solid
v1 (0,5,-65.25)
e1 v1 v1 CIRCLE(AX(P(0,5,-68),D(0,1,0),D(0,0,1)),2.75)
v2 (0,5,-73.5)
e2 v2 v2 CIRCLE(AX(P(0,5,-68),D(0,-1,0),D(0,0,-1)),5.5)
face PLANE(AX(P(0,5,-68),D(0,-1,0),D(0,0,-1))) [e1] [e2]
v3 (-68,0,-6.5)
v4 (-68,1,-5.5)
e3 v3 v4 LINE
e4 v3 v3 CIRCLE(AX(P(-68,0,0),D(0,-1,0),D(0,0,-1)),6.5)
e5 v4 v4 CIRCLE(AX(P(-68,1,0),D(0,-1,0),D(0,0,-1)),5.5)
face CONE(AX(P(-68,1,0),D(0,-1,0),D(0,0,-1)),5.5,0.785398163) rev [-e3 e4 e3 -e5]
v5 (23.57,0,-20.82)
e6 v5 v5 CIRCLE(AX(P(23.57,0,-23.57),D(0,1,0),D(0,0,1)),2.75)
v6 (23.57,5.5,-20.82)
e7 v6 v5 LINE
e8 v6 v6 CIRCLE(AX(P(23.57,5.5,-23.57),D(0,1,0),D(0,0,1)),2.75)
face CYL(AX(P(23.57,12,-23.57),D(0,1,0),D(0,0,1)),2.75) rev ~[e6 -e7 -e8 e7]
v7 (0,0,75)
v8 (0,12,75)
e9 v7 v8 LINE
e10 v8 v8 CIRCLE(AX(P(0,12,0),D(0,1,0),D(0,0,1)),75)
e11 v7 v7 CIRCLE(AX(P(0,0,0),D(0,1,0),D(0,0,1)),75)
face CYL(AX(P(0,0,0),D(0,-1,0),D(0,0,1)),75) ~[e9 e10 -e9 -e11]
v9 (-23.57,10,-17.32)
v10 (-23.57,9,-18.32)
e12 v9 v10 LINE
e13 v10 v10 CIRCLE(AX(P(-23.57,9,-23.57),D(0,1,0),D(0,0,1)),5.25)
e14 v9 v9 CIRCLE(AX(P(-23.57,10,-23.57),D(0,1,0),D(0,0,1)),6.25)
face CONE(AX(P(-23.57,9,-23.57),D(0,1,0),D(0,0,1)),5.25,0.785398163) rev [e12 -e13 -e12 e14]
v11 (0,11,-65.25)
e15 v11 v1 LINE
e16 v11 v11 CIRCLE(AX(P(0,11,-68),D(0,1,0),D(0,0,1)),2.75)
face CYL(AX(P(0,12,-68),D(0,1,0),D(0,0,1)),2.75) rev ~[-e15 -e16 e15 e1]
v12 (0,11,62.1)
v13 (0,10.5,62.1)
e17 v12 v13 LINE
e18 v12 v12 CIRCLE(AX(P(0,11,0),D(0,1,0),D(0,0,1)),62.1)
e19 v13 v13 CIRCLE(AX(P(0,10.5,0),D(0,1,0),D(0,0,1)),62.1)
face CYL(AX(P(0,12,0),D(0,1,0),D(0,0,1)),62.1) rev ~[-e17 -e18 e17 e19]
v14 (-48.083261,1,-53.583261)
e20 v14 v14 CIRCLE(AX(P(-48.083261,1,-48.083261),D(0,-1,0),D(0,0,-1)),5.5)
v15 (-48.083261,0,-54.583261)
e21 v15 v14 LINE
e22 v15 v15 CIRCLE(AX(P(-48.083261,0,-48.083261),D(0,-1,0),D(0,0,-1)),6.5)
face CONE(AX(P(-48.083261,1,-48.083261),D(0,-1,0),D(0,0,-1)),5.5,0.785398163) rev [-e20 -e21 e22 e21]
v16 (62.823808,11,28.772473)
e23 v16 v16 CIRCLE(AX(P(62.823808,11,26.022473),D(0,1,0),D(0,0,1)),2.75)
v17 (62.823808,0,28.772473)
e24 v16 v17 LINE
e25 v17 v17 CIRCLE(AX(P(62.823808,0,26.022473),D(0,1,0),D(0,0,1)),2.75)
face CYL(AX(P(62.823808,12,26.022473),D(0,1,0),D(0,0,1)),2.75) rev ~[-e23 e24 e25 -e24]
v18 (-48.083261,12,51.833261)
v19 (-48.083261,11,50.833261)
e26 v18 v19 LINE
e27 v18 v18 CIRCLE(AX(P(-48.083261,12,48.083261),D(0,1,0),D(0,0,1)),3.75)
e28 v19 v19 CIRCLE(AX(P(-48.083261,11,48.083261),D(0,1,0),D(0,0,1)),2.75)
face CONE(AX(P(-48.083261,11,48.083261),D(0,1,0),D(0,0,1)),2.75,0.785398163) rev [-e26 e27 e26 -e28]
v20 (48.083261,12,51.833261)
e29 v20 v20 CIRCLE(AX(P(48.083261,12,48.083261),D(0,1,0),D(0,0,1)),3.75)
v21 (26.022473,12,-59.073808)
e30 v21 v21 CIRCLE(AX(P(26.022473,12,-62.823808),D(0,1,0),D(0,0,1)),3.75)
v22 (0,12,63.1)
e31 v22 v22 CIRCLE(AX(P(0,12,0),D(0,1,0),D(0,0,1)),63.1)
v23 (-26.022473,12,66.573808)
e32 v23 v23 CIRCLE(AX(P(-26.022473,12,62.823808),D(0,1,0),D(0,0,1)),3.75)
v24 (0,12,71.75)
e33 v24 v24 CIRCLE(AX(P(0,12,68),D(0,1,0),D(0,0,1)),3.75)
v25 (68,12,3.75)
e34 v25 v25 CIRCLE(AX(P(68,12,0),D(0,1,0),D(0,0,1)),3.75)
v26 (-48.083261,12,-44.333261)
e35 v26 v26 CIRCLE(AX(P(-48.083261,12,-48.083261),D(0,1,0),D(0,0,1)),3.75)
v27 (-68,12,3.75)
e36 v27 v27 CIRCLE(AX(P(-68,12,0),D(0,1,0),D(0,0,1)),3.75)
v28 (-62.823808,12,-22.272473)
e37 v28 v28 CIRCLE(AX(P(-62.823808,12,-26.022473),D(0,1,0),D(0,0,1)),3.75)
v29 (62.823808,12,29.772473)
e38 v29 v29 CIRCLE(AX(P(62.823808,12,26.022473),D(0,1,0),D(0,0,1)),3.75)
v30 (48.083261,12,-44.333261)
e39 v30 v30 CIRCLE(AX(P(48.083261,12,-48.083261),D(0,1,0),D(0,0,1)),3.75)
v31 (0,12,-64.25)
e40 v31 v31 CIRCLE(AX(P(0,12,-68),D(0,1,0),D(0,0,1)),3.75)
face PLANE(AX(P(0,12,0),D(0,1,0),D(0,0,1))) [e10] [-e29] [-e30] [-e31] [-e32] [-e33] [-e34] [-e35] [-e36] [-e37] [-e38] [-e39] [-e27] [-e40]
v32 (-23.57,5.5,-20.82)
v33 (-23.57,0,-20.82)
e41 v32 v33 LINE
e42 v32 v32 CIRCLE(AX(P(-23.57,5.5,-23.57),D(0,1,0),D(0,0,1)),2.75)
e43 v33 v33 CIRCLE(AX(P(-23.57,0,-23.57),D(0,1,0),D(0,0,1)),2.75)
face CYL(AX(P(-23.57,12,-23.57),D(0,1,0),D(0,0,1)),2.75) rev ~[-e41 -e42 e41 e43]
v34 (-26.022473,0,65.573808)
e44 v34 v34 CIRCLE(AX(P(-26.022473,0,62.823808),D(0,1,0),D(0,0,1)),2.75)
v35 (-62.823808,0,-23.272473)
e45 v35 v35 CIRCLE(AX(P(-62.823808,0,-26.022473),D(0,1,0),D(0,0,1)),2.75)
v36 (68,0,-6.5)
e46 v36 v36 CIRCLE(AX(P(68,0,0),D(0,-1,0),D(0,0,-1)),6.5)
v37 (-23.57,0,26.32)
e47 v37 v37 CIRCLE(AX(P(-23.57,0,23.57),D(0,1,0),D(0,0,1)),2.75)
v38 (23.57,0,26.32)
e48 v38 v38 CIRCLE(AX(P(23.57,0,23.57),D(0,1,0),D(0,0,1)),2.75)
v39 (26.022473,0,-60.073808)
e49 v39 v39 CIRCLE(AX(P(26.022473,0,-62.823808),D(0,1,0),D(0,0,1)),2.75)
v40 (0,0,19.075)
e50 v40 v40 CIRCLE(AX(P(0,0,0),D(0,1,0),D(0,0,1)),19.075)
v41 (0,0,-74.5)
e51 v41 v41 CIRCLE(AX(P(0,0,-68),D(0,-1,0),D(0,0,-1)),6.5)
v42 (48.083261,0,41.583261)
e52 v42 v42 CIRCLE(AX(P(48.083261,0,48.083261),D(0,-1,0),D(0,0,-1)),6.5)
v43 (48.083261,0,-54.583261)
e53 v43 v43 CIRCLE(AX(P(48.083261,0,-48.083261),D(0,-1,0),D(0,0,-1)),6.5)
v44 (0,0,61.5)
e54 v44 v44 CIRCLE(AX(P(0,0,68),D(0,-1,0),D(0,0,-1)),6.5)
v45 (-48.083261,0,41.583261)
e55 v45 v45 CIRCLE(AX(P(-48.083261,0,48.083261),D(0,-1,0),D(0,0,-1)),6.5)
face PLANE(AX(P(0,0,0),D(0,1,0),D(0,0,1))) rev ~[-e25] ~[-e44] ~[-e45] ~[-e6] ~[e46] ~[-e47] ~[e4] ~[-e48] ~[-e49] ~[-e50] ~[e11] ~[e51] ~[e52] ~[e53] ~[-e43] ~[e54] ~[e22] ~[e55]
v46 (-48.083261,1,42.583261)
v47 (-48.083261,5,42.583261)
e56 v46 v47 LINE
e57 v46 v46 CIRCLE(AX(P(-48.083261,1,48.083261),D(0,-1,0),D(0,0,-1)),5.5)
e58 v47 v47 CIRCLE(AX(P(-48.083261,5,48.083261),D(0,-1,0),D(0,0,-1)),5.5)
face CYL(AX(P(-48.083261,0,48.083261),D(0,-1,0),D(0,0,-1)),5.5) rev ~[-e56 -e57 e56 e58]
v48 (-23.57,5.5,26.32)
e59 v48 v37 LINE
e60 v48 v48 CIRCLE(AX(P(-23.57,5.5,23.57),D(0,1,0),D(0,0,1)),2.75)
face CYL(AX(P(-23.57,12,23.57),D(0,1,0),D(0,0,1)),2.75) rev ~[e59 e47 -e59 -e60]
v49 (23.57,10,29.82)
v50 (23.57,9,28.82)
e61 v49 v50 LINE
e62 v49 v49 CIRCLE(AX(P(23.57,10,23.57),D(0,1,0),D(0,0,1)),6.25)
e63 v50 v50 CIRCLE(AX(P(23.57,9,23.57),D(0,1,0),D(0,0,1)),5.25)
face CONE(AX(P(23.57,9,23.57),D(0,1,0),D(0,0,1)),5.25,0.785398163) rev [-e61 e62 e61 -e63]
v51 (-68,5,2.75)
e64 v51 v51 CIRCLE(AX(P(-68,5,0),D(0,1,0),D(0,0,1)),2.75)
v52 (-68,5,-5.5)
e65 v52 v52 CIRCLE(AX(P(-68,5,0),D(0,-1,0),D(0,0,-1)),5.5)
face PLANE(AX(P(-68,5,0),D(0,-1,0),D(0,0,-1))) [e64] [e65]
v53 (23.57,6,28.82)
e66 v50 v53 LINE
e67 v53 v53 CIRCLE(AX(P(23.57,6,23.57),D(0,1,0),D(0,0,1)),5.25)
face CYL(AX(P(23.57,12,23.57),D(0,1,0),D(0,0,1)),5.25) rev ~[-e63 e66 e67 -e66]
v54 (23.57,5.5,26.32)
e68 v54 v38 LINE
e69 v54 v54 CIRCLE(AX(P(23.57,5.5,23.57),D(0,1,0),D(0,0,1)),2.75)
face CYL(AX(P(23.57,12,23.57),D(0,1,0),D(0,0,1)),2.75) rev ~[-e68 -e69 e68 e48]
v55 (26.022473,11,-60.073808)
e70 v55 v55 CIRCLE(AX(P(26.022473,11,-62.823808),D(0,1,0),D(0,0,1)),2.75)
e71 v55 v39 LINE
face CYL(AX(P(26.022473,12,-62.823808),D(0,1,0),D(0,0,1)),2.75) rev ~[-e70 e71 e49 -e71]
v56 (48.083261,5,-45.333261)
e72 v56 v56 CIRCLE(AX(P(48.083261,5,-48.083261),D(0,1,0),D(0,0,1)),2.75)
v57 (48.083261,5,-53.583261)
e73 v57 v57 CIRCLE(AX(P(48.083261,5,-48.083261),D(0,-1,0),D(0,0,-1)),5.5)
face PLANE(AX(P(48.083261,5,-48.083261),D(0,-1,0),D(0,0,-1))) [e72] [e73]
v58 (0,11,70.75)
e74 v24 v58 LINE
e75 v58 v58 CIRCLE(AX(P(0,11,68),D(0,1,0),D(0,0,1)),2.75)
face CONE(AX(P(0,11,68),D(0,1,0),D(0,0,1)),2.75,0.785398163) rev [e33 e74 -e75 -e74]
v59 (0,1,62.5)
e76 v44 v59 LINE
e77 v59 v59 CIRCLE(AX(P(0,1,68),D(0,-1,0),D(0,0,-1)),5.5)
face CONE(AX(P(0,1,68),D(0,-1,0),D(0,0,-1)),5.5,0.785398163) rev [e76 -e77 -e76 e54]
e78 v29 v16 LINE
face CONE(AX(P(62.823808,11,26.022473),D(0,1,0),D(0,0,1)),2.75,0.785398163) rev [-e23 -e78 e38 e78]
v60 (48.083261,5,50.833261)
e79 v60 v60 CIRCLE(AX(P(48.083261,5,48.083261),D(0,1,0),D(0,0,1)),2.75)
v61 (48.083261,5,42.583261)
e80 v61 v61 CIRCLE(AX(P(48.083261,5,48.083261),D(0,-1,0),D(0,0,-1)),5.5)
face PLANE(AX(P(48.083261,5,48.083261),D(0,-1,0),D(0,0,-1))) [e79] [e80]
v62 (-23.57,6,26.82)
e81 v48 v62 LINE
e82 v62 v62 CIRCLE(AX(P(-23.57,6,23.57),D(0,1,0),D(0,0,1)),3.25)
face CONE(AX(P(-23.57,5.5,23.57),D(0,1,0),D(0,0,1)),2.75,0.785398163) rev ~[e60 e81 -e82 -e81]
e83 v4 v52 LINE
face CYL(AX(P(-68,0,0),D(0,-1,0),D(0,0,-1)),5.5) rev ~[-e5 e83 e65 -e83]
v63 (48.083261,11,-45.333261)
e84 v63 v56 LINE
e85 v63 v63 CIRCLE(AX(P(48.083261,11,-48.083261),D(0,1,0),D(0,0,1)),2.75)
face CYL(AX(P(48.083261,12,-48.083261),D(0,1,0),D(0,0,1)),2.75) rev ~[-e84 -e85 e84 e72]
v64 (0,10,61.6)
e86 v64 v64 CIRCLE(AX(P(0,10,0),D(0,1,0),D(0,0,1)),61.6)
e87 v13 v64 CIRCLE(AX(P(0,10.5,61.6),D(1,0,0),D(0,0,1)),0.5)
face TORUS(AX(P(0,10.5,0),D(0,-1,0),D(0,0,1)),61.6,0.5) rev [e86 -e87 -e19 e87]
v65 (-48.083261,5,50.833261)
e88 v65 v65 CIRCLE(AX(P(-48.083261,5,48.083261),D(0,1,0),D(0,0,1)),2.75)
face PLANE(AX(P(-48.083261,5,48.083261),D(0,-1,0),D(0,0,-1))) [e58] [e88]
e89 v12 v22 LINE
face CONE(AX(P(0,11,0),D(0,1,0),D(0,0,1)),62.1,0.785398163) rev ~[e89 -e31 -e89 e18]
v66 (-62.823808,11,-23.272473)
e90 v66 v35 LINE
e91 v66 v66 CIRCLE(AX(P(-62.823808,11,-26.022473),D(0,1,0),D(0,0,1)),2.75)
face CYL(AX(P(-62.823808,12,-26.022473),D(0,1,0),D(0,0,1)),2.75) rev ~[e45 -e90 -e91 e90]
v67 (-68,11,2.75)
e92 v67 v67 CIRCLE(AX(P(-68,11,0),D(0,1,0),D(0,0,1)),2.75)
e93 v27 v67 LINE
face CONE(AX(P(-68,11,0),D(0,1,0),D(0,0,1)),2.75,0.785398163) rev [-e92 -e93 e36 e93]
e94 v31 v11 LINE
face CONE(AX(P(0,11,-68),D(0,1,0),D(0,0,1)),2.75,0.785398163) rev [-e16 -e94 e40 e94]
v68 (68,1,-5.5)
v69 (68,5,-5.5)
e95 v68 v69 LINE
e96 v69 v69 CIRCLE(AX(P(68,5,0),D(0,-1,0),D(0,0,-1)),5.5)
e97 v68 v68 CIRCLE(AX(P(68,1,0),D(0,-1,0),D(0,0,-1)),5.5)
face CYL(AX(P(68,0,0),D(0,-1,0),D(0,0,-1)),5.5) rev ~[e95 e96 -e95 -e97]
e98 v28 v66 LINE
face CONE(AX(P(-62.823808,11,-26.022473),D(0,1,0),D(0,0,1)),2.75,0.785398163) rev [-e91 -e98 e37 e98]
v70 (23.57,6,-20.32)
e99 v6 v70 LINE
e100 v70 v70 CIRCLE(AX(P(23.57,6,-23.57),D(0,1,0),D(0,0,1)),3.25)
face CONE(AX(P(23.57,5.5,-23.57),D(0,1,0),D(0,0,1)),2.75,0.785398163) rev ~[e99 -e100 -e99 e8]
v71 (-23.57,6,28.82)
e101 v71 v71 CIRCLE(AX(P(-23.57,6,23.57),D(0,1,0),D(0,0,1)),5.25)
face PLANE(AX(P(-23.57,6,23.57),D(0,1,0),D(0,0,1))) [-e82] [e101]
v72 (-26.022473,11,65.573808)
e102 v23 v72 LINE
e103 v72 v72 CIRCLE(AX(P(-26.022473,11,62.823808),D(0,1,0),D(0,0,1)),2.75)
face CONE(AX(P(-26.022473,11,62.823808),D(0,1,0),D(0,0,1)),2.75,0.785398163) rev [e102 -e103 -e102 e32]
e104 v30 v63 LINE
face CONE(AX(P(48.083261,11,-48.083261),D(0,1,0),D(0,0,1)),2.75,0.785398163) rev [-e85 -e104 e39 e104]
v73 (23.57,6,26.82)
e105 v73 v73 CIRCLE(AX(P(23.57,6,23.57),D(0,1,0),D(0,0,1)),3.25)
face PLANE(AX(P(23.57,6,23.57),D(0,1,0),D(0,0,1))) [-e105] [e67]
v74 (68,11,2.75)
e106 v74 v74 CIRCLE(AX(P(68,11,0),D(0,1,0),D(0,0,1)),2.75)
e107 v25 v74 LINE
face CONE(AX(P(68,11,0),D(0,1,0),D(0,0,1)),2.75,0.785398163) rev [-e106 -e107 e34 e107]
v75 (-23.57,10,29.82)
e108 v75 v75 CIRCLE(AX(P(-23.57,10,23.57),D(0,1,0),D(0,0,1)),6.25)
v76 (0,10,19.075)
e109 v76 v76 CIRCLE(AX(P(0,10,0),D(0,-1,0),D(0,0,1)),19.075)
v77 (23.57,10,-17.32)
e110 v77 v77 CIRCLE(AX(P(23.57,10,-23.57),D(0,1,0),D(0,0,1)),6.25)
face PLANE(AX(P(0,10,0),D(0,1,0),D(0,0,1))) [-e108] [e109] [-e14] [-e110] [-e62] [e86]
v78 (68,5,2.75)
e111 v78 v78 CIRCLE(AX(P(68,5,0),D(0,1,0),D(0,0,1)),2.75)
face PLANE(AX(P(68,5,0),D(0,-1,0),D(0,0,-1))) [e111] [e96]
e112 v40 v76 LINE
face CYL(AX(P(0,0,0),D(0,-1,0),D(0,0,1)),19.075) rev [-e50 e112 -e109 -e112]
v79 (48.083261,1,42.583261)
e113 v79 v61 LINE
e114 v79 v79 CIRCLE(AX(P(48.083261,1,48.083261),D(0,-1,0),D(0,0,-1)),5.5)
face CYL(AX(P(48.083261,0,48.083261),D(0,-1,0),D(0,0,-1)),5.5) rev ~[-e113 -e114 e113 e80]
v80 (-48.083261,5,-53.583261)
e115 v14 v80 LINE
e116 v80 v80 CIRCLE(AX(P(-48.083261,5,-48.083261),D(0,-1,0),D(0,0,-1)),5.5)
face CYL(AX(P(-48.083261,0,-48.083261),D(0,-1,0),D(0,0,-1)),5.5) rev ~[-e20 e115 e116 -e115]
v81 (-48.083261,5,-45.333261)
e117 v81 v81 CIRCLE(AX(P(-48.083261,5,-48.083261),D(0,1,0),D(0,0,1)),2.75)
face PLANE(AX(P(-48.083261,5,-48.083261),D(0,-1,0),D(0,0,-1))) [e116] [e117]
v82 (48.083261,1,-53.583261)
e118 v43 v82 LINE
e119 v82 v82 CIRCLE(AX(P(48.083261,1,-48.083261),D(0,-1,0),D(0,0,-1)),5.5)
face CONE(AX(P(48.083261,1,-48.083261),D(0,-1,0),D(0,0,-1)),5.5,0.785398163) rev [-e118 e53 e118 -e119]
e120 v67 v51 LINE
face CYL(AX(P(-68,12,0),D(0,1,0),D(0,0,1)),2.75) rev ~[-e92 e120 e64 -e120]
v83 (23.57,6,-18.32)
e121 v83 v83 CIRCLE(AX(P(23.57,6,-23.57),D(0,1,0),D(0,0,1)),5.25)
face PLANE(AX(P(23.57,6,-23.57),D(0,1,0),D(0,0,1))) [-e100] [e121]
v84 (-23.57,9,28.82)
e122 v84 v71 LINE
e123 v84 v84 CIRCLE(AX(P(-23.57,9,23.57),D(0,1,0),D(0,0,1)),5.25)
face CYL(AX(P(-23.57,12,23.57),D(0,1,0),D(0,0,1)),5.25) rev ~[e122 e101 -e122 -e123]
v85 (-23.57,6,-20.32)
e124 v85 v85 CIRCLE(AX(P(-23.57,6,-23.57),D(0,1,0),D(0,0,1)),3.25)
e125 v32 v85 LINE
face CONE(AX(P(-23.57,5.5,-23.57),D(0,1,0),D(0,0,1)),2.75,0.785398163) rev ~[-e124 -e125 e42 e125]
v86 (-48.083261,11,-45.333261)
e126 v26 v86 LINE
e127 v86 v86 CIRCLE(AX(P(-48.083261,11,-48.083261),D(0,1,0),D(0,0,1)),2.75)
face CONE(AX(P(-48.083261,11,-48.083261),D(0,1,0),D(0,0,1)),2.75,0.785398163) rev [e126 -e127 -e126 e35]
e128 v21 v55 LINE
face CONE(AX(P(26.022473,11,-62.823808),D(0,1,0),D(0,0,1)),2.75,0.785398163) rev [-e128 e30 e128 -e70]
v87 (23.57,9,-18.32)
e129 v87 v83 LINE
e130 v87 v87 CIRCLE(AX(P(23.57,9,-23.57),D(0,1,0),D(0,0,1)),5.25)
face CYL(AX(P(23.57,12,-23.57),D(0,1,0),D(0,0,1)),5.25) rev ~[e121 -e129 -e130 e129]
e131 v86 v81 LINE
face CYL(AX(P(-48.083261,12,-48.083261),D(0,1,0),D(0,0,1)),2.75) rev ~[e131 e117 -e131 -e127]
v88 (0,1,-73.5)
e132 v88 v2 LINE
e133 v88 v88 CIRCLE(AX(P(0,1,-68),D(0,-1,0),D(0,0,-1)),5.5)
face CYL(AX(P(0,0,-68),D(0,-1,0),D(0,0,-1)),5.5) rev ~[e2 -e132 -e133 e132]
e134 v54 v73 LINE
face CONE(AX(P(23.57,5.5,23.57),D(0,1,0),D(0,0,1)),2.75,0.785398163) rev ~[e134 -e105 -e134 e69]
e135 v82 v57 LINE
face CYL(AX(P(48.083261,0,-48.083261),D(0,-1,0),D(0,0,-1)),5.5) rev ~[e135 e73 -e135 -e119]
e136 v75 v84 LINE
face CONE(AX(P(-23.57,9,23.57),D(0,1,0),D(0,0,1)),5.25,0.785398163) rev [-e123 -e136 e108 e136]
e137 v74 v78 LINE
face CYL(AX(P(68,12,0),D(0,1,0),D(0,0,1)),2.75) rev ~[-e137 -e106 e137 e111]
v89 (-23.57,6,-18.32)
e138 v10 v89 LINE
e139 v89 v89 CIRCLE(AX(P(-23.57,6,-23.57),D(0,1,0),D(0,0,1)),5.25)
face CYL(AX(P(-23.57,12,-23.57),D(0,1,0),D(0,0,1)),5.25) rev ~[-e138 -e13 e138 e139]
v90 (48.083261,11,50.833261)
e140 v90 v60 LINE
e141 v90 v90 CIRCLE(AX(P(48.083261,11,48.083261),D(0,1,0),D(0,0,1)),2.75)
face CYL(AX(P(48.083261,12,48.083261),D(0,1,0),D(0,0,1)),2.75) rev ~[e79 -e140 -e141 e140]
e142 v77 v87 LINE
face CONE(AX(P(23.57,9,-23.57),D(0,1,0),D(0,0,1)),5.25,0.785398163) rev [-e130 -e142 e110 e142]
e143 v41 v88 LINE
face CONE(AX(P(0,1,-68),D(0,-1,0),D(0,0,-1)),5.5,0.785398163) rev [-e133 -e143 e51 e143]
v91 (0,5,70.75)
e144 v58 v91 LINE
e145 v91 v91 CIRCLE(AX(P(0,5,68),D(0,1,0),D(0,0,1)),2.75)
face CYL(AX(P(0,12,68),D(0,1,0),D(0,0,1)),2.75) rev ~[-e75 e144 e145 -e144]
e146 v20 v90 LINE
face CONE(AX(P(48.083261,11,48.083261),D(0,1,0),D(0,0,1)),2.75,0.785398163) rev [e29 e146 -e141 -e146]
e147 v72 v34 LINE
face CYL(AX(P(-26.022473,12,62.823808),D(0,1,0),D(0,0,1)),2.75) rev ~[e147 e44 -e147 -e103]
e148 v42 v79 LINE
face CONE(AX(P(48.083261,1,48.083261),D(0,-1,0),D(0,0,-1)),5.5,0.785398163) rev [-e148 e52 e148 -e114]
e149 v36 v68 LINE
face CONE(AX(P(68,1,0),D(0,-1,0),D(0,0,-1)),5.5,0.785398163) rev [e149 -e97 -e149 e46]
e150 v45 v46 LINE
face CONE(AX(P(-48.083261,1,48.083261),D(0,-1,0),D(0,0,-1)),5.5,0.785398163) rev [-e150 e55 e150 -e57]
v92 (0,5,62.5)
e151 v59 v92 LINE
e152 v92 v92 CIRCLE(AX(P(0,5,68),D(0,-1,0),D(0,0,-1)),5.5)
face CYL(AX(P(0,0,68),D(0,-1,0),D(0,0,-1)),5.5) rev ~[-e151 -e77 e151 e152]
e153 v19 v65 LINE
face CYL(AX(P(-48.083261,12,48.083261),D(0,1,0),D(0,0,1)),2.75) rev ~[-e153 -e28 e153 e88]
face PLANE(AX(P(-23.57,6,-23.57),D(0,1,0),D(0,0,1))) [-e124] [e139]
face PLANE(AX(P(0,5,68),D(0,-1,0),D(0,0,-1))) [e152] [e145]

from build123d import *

# Parameters (mm, degrees)
SKETCH1_R           = 75
SKETCH1_R_2         = 19.075
BOSS_EXTRUDE1_DEPTH = 12
SKETCH2_R           = 2.75
CUT_EXTRUDE1_DEPTH  = 107.742681248
SKETCH3_R           = 5.25
CUT_EXTRUDE2_DEPTH  = 6
SKETCH4_R           = 62.1
CUT_EXTRUDE3_DEPTH  = 2
SKETCH5_R           = 2.75
CUT_EXTRUDE4_DEPTH  = 107.742681248
SKETCH8_R           = 5.5
CUT_EXTRUDE5_DEPTH  = 5
FILLET1_R           = 0.5
CHAMFER1_SIZE       = 1
CHAMFER2_SIZE       = 1
CHAMFER3_SIZE       = 1
CHAMFER4_SIZE       = 0.5


with BuildPart() as part:
    # Sketch1 → Boss-Extrude1 (new body)
    with BuildSketch(Plane(origin=(0, 0, 0), x_dir=(1, 0, 0), z_dir=(0, 1, 0))):
        Circle(SKETCH1_R)
        Circle(SKETCH1_R_2, mode=Mode.SUBTRACT)
    extrude(amount=BOSS_EXTRUDE1_DEPTH)

    # Sketch2 → Cut-Extrude1 (cut, through all)
    with BuildSketch(Plane(origin=(0, 12, 0), x_dir=(1, 0, 0), z_dir=(0, 1, 0))):
        with Locations((-23.57, 23.57)):
            Circle(SKETCH2_R)
        with Locations((23.57, 23.57)):
            Circle(SKETCH2_R)
        with Locations((-23.57, -23.57)):
            Circle(SKETCH2_R)
        with Locations((23.57, -23.57)):
            Circle(SKETCH2_R)
    extrude(amount=-CUT_EXTRUDE1_DEPTH, mode=Mode.SUBTRACT)

    # Sketch3 → Cut-Extrude2 (cut)
    with BuildSketch(Plane(origin=(0, 12, 0), x_dir=(1, 0, 0), z_dir=(0, 1, 0))):
        with Locations((-23.57, 23.57)):
            Circle(SKETCH3_R)
        with Locations((23.57, 23.57)):
            Circle(SKETCH3_R)
        with Locations((-23.57, -23.57)):
            Circle(SKETCH3_R)
        with Locations((23.57, -23.57)):
            Circle(SKETCH3_R)
    extrude(amount=-CUT_EXTRUDE2_DEPTH, mode=Mode.SUBTRACT)

    # Sketch4 → Cut-Extrude3 (cut)
    with BuildSketch(Plane(origin=(0, 12, 0), x_dir=(1, 0, 0), z_dir=(0, 1, 0))):
        Circle(SKETCH4_R)
    extrude(amount=-CUT_EXTRUDE3_DEPTH, mode=Mode.SUBTRACT)

    # Sketch5 → Cut-Extrude4 (cut, through all)
    with BuildSketch(Plane(origin=(0, 12, 0), x_dir=(1, 0, 0), z_dir=(0, 1, 0))):
        with Locations((0, 68)):
            Circle(SKETCH5_R)
        with Locations((48.083261121, 48.083261121)):
            Circle(SKETCH5_R)
        with Locations((68, 0)):
            Circle(SKETCH5_R)
        with Locations((48.083261121, -48.083261121)):
            Circle(SKETCH5_R)
        with Locations((0, -68)):
            Circle(SKETCH5_R)
        with Locations((-48.083261121, -48.083261121)):
            Circle(SKETCH5_R)
        with Locations((-68, 0)):
            Circle(SKETCH5_R)
        with Locations((-48.083261121, 48.083261121)):
            Circle(SKETCH5_R)
        with Locations((26.022473401, 62.823808211)):
            Circle(SKETCH5_R)
        with Locations((62.823808211, -26.022473401)):
            Circle(SKETCH5_R)
        with Locations((-26.022473401, -62.823808211)):
            Circle(SKETCH5_R)
        with Locations((-62.823808211, 26.022473401)):
            Circle(SKETCH5_R)
    extrude(amount=-CUT_EXTRUDE4_DEPTH, mode=Mode.SUBTRACT)

    # Sketch8 → Cut-Extrude5 (cut)
    with BuildSketch(Plane.XZ):
        with Locations((0, 68)):
            Circle(SKETCH8_R)
        with Locations((-48.083261121, 48.083261121)):
            Circle(SKETCH8_R)
        with Locations((48.083261121, 48.083261121)):
            Circle(SKETCH8_R)
        with Locations((48.083261121, -48.083261121)):
            Circle(SKETCH8_R)
        with Locations((0, -68)):
            Circle(SKETCH8_R)
        with Locations((-48.083261121, -48.083261121)):
            Circle(SKETCH8_R)
        with Locations((-68, 0)):
            Circle(SKETCH8_R)
        with Locations((68, 0)):
            Circle(SKETCH8_R)
    extrude(amount=-CUT_EXTRUDE5_DEPTH, mode=Mode.SUBTRACT)

    # Fillet1
    fillet1_edges = [part.edges().sort_by_distance(p)[0] for p in [
        (-62.1, 10, 0),
    ]]
    fillet(fillet1_edges, radius=FILLET1_R)

    # Chamfer1
    chamfer1_edges = [part.edges().sort_by_distance(p)[0] for p in [
        (-62.1, 12, 0),
    ]]
    chamfer(chamfer1_edges, length=CHAMFER1_SIZE)

    # Chamfer2
    chamfer2_edges = [part.edges().sort_by_distance(p)[0] for p in [
        (-2.75, 12, 68),
        (-70.75, 12, 0),
        (-50.833261121, 12, 48.083261121),
        (45.333261121, 12, 48.083261121),
        (65.25, 12, 0),
        (45.333261121, 12, -48.083261121),
        (23.272473401, 12, -62.823808211),
        (-2.75, 12, -68),
        (-50.833261121, 12, -48.083261121),
        (-28.82, 10, -23.57),
        (18.32, 10, -23.57),
        (18.32, 10, 23.57),
        (-28.82, 10, 23.57),
        (60.073808211, 12, 26.022473401),
        (-28.772473401, 12, 62.823808211),
        (-65.573808211, 12, -26.022473401),
    ]]
    chamfer(chamfer2_edges, length=CHAMFER2_SIZE)

    # Chamfer3
    chamfer3_edges = [part.edges().sort_by_distance(p)[0] for p in [
        (-5.5, 0, 68),
        (42.583261121, 0, 48.083261121),
        (62.5, 0, 0),
        (42.583261121, 0, -48.083261121),
        (-5.5, 0, -68),
        (-53.583261121, 0, -48.083261121),
        (-73.5, 0, 0),
        (-53.583261121, 0, 48.083261121),
    ]]
    chamfer(chamfer3_edges, length=CHAMFER3_SIZE)

    # Chamfer4
    chamfer4_edges = [part.edges().sort_by_distance(p)[0] for p in [
        (-26.32, 6, 23.57),
        (20.82, 6, 23.57),
        (20.82, 6, -23.57),
        (-26.32, 6, -23.57),
    ]]
    chamfer(chamfer4_edges, length=CHAMFER4_SIZE)


solid = part.part
